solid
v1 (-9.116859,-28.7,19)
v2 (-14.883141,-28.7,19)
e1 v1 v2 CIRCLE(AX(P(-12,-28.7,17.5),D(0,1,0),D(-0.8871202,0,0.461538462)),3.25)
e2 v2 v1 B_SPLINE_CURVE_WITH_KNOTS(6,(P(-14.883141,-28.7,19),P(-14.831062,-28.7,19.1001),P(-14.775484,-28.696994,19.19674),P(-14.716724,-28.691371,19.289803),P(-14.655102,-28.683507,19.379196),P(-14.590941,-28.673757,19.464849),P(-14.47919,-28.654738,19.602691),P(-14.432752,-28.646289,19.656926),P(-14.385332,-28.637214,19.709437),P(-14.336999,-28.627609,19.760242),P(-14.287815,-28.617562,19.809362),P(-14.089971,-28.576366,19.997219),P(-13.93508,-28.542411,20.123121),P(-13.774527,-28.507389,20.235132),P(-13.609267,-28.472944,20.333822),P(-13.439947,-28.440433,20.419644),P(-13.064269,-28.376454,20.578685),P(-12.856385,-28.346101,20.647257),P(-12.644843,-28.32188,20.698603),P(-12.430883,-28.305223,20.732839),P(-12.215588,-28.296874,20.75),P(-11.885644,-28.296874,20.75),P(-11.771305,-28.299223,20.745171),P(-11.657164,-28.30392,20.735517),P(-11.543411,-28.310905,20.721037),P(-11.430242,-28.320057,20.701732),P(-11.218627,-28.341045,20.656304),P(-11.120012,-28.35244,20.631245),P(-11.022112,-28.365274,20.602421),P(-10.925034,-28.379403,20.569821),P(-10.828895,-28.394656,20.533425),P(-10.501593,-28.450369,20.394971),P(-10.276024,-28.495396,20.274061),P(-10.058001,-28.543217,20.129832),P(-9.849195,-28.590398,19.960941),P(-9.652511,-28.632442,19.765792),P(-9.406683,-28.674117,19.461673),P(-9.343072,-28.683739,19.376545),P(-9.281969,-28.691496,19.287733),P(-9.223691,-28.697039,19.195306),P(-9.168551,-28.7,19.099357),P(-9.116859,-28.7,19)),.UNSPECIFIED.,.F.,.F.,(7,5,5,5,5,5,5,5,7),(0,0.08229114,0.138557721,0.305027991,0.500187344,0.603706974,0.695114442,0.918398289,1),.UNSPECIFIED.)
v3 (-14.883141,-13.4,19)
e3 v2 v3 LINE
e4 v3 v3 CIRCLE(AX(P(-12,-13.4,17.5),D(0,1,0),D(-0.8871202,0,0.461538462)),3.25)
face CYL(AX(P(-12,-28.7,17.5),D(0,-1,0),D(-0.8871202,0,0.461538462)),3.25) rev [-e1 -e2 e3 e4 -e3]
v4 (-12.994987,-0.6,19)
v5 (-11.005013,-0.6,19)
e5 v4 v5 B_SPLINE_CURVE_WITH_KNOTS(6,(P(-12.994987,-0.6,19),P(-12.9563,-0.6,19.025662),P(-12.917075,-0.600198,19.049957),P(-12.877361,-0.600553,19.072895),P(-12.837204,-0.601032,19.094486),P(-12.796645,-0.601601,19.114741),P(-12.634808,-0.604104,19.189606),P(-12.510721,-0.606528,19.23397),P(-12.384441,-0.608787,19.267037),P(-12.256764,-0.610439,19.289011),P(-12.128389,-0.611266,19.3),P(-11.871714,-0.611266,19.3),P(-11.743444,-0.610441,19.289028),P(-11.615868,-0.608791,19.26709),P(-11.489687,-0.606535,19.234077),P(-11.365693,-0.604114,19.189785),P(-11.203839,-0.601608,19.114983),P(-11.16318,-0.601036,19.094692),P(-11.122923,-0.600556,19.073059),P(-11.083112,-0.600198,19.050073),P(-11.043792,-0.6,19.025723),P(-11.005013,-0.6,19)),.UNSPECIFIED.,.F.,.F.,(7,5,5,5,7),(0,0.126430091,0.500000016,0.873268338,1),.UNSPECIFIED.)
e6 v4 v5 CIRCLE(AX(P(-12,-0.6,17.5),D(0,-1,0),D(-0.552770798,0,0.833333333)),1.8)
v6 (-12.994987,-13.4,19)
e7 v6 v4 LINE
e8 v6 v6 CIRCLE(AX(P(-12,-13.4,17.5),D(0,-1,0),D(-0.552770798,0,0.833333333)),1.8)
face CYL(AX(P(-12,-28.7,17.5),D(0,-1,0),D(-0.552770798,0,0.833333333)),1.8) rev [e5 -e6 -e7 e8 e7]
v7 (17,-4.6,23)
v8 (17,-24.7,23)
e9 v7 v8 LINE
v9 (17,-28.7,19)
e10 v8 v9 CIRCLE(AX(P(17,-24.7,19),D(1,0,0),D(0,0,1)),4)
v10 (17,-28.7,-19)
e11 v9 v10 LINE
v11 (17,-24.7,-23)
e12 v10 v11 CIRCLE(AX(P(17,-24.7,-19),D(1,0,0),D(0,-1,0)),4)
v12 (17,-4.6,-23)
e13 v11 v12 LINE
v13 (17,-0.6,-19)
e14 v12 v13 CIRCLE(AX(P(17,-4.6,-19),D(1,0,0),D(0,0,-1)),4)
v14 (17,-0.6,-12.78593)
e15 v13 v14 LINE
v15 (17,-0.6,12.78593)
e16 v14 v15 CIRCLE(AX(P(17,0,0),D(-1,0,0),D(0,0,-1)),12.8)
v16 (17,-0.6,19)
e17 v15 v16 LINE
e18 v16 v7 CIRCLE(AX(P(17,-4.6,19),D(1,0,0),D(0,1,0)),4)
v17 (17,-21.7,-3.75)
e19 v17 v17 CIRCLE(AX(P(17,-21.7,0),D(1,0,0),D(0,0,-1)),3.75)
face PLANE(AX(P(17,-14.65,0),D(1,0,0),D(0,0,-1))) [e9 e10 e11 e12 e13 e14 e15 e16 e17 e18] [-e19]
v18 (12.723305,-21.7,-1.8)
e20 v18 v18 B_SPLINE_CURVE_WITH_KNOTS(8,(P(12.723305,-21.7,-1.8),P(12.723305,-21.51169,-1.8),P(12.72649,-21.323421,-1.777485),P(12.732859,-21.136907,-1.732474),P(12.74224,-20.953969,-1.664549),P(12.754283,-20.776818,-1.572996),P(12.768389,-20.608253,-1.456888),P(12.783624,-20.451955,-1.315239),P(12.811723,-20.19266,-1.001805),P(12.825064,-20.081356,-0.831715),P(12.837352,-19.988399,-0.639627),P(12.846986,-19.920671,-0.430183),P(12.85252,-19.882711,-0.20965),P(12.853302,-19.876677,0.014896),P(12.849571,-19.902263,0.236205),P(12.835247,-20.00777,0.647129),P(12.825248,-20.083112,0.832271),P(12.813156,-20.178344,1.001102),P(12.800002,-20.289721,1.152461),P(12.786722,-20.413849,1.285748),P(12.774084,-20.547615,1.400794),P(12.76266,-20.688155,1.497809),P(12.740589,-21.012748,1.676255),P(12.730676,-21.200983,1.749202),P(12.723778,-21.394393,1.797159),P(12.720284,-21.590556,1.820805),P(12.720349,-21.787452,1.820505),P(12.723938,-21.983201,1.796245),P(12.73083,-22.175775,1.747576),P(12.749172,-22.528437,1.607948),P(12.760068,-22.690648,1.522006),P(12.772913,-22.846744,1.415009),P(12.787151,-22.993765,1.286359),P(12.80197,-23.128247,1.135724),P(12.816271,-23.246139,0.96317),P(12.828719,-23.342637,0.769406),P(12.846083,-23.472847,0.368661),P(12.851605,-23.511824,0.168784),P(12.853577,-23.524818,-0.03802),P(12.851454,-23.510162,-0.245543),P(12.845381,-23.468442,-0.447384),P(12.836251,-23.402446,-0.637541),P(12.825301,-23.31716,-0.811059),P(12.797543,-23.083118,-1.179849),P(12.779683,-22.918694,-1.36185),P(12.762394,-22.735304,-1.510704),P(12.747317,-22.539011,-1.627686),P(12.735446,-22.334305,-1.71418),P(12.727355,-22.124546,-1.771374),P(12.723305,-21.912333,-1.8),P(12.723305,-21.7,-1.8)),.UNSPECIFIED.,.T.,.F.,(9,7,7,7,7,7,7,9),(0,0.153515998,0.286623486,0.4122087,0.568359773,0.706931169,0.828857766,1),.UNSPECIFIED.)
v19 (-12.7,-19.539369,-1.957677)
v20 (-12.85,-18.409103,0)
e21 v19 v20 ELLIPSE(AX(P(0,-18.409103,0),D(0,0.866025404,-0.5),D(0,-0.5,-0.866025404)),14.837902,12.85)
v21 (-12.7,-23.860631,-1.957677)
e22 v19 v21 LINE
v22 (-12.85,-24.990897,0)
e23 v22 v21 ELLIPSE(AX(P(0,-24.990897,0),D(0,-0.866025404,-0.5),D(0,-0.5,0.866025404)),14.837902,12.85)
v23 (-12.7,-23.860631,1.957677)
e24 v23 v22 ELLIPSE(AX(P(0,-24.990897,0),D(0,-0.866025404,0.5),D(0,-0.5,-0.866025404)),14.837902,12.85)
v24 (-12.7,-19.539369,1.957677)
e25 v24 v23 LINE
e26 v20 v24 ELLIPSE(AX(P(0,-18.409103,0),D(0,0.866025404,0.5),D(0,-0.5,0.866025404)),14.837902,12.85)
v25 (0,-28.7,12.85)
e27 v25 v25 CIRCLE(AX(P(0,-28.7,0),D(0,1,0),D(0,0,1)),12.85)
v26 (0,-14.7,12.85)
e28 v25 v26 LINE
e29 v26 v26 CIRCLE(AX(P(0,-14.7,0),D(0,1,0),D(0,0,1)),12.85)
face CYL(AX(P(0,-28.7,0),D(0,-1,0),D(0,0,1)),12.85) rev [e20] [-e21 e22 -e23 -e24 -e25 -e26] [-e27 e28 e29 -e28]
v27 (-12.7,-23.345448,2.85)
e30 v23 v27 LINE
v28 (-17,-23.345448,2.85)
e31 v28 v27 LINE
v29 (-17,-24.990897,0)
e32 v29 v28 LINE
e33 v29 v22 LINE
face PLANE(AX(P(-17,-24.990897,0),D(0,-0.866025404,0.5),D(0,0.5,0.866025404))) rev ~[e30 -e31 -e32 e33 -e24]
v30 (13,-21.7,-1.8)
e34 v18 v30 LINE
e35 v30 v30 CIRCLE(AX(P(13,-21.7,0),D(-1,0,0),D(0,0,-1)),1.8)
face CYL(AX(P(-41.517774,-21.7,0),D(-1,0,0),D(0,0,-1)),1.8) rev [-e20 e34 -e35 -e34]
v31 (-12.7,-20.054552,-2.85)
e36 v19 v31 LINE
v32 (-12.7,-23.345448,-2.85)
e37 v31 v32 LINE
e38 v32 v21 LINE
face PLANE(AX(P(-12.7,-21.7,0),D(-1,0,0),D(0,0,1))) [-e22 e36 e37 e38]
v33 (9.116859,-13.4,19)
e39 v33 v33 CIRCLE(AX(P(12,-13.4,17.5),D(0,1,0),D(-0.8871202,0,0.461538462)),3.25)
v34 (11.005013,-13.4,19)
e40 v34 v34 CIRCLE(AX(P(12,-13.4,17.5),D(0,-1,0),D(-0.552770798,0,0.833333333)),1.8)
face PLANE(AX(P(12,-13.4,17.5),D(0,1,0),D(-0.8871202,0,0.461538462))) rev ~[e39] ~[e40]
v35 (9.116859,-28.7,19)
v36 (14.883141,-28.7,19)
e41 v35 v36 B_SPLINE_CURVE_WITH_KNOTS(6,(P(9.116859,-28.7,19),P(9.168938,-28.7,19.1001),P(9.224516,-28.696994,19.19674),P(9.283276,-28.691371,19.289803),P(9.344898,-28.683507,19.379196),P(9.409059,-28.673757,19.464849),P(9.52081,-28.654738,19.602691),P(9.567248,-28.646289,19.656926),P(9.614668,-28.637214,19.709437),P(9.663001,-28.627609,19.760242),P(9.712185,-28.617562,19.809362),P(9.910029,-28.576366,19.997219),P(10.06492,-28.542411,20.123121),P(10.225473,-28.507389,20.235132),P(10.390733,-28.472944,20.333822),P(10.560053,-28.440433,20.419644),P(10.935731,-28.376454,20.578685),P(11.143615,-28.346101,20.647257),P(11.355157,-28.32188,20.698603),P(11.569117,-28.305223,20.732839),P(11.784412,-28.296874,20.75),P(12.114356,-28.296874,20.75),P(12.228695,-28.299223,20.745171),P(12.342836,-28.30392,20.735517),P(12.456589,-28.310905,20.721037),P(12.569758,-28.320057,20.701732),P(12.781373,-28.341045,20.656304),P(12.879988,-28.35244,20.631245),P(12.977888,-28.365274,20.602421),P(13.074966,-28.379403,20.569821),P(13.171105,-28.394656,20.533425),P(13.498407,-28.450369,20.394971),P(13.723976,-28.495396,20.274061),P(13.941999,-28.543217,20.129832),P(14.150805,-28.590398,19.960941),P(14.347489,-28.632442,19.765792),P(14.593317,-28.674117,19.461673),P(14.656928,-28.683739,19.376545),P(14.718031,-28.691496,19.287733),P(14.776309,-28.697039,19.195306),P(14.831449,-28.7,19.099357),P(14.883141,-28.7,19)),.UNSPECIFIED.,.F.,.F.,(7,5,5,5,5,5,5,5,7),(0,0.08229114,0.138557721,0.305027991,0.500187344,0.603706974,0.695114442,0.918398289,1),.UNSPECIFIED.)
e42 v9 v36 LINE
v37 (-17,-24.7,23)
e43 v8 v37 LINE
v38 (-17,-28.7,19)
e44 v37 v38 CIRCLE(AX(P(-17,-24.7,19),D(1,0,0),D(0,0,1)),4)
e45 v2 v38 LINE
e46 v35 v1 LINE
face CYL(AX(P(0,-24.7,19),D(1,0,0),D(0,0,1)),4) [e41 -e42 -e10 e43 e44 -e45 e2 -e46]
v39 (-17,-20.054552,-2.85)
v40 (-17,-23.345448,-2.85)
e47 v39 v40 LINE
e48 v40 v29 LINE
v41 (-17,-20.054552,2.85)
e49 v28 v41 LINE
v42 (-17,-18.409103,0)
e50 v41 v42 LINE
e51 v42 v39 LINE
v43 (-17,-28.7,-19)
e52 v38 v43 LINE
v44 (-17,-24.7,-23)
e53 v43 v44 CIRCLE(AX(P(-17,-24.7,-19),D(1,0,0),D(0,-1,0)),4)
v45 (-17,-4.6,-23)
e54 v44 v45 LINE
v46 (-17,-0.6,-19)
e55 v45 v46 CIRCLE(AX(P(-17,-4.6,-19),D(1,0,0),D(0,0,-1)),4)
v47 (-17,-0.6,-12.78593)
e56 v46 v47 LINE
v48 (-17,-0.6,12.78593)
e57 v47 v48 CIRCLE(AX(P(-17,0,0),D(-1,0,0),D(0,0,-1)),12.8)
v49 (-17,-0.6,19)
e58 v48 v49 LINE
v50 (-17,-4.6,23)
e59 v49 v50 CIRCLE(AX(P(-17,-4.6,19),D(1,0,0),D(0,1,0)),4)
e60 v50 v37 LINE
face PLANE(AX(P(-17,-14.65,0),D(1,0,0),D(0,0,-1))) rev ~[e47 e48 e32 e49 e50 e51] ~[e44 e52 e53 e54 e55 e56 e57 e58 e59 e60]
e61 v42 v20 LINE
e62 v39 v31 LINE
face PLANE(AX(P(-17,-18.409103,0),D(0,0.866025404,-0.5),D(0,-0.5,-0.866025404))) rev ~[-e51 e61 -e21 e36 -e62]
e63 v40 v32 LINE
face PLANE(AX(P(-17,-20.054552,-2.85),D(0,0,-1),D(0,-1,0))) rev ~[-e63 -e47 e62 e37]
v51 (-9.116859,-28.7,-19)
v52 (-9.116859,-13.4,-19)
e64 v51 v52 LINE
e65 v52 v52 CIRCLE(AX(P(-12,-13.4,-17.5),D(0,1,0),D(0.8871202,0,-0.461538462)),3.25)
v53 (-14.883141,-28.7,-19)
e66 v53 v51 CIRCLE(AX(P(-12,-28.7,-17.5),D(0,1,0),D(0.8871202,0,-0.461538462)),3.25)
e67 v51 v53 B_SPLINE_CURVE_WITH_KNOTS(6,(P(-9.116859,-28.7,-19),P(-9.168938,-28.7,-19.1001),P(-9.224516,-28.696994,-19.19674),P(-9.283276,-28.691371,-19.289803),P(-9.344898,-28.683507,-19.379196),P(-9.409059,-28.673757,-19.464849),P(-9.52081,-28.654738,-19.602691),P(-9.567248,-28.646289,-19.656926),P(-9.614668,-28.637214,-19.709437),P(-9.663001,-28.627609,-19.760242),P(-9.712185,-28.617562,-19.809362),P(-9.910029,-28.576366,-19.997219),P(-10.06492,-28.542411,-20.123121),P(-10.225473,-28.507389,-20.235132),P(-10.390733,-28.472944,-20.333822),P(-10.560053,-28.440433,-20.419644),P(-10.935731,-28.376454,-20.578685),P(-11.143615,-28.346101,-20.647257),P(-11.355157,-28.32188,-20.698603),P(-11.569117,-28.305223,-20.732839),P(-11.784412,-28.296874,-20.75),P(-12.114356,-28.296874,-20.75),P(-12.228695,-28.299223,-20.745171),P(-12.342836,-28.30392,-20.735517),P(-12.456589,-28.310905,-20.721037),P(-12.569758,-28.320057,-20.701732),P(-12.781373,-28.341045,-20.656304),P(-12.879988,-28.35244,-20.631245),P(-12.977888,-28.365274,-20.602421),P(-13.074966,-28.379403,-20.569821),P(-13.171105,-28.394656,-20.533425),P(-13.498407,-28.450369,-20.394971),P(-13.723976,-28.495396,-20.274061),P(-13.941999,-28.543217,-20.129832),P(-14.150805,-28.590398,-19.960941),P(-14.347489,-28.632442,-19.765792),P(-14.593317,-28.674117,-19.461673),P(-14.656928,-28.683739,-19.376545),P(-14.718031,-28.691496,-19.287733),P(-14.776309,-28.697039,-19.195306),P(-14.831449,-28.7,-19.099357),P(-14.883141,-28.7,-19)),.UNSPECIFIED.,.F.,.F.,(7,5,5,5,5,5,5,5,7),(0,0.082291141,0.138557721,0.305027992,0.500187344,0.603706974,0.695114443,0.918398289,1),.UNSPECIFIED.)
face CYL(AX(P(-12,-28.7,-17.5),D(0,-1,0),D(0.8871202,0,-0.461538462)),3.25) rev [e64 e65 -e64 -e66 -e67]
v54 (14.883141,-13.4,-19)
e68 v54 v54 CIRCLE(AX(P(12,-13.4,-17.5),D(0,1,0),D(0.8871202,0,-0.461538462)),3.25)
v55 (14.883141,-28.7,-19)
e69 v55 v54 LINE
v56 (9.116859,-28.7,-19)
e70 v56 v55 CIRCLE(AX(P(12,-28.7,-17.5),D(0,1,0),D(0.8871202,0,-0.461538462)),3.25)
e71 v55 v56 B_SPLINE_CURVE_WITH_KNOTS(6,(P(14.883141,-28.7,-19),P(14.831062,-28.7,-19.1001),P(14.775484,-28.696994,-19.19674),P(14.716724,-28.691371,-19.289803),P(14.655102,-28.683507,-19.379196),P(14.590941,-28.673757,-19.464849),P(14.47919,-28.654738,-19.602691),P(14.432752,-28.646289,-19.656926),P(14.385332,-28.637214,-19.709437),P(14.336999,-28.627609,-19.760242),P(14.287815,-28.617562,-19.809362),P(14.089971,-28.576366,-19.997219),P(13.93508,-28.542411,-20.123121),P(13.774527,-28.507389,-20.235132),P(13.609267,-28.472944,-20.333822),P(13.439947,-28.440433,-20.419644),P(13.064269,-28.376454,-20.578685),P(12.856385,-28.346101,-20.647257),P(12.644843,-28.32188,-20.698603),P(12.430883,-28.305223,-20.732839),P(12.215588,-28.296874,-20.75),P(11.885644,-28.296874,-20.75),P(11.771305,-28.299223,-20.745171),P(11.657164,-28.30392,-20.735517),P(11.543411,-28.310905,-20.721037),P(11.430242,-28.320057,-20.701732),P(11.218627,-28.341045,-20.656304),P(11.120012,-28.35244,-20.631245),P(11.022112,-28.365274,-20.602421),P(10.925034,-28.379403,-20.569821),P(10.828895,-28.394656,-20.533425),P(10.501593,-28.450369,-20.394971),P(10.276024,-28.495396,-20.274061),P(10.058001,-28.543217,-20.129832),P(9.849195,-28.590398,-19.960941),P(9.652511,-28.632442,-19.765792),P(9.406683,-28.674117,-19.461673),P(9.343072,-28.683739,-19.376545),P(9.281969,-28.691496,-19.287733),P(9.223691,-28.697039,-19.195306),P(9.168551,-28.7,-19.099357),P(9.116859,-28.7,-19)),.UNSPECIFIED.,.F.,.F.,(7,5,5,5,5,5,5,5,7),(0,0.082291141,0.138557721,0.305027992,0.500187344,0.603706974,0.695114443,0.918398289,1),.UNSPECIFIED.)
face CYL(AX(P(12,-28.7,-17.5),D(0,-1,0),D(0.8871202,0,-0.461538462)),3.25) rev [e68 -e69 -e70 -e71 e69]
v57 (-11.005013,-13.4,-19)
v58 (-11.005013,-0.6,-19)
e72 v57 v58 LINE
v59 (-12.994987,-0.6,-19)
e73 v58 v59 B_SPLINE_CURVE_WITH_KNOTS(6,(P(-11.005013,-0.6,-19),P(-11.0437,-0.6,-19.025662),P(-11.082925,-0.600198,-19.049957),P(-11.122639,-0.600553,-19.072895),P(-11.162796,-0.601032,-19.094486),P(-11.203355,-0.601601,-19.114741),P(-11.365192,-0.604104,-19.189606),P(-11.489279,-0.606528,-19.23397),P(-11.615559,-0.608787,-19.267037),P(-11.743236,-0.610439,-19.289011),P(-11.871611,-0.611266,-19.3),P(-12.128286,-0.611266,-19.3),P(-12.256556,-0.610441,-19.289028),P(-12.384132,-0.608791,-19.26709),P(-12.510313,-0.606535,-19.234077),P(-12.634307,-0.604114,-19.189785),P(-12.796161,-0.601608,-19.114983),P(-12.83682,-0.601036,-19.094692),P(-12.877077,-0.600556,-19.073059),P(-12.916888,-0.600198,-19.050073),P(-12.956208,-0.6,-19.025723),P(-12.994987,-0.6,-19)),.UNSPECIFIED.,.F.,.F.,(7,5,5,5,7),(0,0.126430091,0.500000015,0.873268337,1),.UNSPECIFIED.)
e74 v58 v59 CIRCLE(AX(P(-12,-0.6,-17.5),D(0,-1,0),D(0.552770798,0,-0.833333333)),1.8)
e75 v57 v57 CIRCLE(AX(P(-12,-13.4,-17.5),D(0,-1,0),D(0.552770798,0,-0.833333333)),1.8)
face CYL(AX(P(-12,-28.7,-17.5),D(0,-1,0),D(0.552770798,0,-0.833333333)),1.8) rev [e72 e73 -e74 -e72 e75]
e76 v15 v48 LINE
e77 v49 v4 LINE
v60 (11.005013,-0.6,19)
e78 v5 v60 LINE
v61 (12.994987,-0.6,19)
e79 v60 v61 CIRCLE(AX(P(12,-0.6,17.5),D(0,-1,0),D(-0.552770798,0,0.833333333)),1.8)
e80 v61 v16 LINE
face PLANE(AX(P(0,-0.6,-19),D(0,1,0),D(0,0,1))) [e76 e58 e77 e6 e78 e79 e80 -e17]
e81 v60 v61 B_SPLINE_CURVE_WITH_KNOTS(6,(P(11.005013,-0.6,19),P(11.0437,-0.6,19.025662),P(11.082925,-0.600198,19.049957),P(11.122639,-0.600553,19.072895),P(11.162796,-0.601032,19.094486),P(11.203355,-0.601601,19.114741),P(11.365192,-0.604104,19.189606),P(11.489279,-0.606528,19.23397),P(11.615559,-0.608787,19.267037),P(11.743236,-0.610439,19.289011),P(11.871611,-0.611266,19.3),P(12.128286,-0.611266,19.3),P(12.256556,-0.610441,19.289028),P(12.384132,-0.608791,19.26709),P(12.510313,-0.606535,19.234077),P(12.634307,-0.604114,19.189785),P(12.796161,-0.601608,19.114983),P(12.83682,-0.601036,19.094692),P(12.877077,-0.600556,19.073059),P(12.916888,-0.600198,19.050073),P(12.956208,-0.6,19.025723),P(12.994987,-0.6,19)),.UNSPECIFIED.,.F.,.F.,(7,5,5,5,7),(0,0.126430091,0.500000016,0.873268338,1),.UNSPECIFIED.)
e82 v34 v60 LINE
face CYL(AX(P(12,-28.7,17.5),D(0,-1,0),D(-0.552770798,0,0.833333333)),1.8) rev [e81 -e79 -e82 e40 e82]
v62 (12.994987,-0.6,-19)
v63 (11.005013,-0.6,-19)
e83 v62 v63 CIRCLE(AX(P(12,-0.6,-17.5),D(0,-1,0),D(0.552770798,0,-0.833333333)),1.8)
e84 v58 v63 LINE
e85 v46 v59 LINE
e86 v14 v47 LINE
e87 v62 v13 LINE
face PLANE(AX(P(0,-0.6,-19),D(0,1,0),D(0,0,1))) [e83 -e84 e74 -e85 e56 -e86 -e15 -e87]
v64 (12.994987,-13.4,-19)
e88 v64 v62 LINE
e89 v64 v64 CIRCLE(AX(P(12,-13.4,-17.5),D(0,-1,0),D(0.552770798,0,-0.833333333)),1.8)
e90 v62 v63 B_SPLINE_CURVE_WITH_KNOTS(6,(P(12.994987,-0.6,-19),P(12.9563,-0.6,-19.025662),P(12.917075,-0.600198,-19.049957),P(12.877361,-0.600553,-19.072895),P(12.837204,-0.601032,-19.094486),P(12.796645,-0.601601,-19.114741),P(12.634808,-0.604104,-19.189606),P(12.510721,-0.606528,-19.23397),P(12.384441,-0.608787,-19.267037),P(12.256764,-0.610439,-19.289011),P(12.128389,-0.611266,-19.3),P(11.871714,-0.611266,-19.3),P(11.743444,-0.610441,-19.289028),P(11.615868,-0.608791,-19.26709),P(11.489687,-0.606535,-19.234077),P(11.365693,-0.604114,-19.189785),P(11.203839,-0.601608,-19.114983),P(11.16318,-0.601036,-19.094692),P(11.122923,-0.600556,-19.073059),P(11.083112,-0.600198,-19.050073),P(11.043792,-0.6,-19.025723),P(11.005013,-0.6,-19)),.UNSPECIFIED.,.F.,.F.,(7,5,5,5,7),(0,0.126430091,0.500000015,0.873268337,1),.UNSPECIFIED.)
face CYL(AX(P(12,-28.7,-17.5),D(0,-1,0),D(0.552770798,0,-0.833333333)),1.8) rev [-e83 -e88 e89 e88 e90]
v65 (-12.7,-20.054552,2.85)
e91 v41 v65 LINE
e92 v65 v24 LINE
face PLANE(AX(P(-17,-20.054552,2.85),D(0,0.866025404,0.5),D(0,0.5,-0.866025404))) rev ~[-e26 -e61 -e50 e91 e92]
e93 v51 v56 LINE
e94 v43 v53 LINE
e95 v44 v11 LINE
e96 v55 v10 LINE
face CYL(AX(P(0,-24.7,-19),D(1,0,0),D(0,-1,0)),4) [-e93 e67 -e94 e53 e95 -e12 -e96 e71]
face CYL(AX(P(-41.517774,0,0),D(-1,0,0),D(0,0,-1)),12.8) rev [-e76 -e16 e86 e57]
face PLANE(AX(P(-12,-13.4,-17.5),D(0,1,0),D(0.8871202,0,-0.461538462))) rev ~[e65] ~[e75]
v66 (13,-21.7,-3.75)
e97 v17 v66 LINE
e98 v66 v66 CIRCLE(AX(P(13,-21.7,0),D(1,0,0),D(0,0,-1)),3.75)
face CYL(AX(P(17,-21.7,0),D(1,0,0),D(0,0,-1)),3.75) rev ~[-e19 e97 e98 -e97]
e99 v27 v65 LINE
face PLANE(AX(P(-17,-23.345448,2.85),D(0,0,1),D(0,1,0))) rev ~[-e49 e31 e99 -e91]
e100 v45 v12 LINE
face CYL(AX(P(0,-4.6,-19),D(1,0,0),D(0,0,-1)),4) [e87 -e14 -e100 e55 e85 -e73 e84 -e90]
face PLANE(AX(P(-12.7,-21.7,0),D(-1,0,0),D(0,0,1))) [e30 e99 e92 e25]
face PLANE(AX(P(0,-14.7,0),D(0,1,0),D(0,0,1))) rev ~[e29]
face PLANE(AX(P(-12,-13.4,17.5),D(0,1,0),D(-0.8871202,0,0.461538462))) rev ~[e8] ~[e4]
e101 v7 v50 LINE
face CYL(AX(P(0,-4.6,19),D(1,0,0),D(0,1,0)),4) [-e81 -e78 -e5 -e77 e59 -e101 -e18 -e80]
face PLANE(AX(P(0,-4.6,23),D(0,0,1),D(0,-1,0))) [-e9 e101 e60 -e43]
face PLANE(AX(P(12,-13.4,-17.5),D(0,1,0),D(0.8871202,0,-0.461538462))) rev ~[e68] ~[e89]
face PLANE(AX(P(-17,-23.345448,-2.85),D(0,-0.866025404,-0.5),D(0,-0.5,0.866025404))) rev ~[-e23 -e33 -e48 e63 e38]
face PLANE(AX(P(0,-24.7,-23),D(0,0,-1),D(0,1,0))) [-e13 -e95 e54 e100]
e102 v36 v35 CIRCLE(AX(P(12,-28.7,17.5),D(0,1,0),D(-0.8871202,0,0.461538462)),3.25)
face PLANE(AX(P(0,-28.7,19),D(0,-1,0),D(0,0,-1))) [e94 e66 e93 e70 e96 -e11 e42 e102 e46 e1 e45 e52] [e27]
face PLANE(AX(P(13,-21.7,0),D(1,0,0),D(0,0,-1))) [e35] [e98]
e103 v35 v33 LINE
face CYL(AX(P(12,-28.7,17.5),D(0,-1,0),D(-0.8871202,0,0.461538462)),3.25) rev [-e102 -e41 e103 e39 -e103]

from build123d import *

# Parameters (mm, degrees)
BOSS_EXTRUDE1_DEPTH     = 17
CUT_EXTRUDE1_DEPTH      = 41.517773878
CUT_EXTRUDE1_DEPTH_BACK = 41.517773878
SKETCH2_R               = 12.8
SKETCH3_R               = 1.8
CUT_EXTRUDE2_DEPTH      = 28.5
SKETCH4_R               = 3.25
CUT_EXTRUDE3_DEPTH      = 15.3
SKETCH5_R               = 12.85
CUT_EXTRUDE4_DEPTH      = 14
CUT_EXTRUDE5_DEPTH      = 41.517774047
CUT_EXTRUDE5_DEPTH_BACK = 41.517774047
SKETCH6_R               = 1.8
SKETCH7_R               = 3.75
CUT_EXTRUDE6_DEPTH      = 4
CUT_EXTRUDE7_DEPTH      = 4.3


with BuildPart() as part:
    # Sketch1 → Boss-Extrude1 (new, symmetric)
    with BuildSketch(Plane(origin=(0, 0, 0), x_dir=(0, 0, -1), z_dir=(1, 0, 0))):
        with BuildLine():
            Line((-19, -28.7), (19, -28.7))
            ThreePointArc((19, -28.7), (21.828427125, -27.528427125), (23, -24.7))
            Line((23, -24.7), (23, -4.6))
            ThreePointArc((23, -4.6), (21.828427125, -1.771572875), (19, -0.6))
            Line((19, -0.6), (-19, -0.6))
            ThreePointArc((-19, -0.6), (-21.828427125, -1.771572875), (-23, -4.6))
            Line((-23, -4.6), (-23, -24.7))
            ThreePointArc((-23, -24.7), (-21.828427125, -27.528427125), (-19, -28.7))
        make_face()
    extrude(amount=BOSS_EXTRUDE1_DEPTH, both=True)

    # Sketch2 → Cut-Extrude1 (cut, two sides: drawn at the far end of the back side and taken through both)
    with BuildSketch(Plane(origin=(0, 0, 0), x_dir=(0, 0, -1), z_dir=(1, 0, 0)).offset(-CUT_EXTRUDE1_DEPTH_BACK)):
        Circle(SKETCH2_R)
    extrude(amount=CUT_EXTRUDE1_DEPTH + CUT_EXTRUDE1_DEPTH_BACK, mode=Mode.SUBTRACT)

    # Sketch3 → Cut-Extrude2 (cut)
    with BuildSketch(Plane(origin=(0, -28.7, 0), x_dir=(1, 0, 0), z_dir=(0, 1, 0))):
        with Locations(Location((12, -17.5, 0), (0, 0, 236.442690238))):
            Circle(SKETCH3_R)
        with Locations(Location((12, 17.5, 0), (0, 0, 56.442690238))):
            Circle(SKETCH3_R)
        with Locations(Location((-12, -17.5, 0), (0, 0, 236.442690238))):
            Circle(SKETCH3_R)
        with Locations(Location((-12, 17.5, 0), (0, 0, 56.442690238))):
            Circle(SKETCH3_R)
    extrude(amount=CUT_EXTRUDE2_DEPTH, mode=Mode.SUBTRACT)

    # Sketch4 → Cut-Extrude3 (cut)
    with BuildSketch(Plane(origin=(0, -28.7, 0), x_dir=(1, 0, 0), z_dir=(0, 1, 0))):
        with Locations(Location((12, -17.5, 0), (0, 0, 207.48642625))):
            Circle(SKETCH4_R)
        with Locations(Location((12, 17.5, 0), (0, 0, 27.48642625))):
            Circle(SKETCH4_R)
        with Locations(Location((-12, -17.5, 0), (0, 0, 207.48642625))):
            Circle(SKETCH4_R)
        with Locations(Location((-12, 17.5, 0), (0, 0, 27.48642625))):
            Circle(SKETCH4_R)
    extrude(amount=CUT_EXTRUDE3_DEPTH, mode=Mode.SUBTRACT)

    # Sketch5 → Cut-Extrude4 (cut)
    with BuildSketch(Plane(origin=(0, -28.7, 0), x_dir=(1, 0, 0), z_dir=(0, 1, 0))):
        with Locations(Location((0, 0, 0), (0, 0, 270))):
            Circle(SKETCH5_R)
    extrude(amount=CUT_EXTRUDE4_DEPTH, mode=Mode.SUBTRACT)

    # Sketch6 → Cut-Extrude5 (cut, two sides: drawn at the far end of the back side and taken through both)
    with BuildSketch(Plane(origin=(0, 0, 0), x_dir=(0, 0, -1), z_dir=(1, 0, 0)).offset(-CUT_EXTRUDE5_DEPTH_BACK)):
        with Locations((0, -21.7)):
            Circle(SKETCH6_R)
    extrude(amount=CUT_EXTRUDE5_DEPTH + CUT_EXTRUDE5_DEPTH_BACK, mode=Mode.SUBTRACT)

    # Sketch7 → Cut-Extrude6 (cut)
    with BuildSketch(Plane(origin=(17, 0, 0), x_dir=(0, 0, -1), z_dir=(1, 0, 0))):
        with Locations((0, -21.7)):
            Circle(SKETCH7_R)
    extrude(amount=-CUT_EXTRUDE6_DEPTH, mode=Mode.SUBTRACT)

    # Sketch8 → Cut-Extrude7 (cut)
    with BuildSketch(Plane(origin=(-17, 0, 0), x_dir=(0, 0, -1), z_dir=(1, 0, 0))):
        Polygon((-2.85, -20.054551733), (0, -18.409103466), (2.85, -20.054551733), (2.85, -23.345448267), (0, -24.990896534), (-2.85, -23.345448267), align=None)
    extrude(amount=CUT_EXTRUDE7_DEPTH, mode=Mode.SUBTRACT)


solid = part.part
